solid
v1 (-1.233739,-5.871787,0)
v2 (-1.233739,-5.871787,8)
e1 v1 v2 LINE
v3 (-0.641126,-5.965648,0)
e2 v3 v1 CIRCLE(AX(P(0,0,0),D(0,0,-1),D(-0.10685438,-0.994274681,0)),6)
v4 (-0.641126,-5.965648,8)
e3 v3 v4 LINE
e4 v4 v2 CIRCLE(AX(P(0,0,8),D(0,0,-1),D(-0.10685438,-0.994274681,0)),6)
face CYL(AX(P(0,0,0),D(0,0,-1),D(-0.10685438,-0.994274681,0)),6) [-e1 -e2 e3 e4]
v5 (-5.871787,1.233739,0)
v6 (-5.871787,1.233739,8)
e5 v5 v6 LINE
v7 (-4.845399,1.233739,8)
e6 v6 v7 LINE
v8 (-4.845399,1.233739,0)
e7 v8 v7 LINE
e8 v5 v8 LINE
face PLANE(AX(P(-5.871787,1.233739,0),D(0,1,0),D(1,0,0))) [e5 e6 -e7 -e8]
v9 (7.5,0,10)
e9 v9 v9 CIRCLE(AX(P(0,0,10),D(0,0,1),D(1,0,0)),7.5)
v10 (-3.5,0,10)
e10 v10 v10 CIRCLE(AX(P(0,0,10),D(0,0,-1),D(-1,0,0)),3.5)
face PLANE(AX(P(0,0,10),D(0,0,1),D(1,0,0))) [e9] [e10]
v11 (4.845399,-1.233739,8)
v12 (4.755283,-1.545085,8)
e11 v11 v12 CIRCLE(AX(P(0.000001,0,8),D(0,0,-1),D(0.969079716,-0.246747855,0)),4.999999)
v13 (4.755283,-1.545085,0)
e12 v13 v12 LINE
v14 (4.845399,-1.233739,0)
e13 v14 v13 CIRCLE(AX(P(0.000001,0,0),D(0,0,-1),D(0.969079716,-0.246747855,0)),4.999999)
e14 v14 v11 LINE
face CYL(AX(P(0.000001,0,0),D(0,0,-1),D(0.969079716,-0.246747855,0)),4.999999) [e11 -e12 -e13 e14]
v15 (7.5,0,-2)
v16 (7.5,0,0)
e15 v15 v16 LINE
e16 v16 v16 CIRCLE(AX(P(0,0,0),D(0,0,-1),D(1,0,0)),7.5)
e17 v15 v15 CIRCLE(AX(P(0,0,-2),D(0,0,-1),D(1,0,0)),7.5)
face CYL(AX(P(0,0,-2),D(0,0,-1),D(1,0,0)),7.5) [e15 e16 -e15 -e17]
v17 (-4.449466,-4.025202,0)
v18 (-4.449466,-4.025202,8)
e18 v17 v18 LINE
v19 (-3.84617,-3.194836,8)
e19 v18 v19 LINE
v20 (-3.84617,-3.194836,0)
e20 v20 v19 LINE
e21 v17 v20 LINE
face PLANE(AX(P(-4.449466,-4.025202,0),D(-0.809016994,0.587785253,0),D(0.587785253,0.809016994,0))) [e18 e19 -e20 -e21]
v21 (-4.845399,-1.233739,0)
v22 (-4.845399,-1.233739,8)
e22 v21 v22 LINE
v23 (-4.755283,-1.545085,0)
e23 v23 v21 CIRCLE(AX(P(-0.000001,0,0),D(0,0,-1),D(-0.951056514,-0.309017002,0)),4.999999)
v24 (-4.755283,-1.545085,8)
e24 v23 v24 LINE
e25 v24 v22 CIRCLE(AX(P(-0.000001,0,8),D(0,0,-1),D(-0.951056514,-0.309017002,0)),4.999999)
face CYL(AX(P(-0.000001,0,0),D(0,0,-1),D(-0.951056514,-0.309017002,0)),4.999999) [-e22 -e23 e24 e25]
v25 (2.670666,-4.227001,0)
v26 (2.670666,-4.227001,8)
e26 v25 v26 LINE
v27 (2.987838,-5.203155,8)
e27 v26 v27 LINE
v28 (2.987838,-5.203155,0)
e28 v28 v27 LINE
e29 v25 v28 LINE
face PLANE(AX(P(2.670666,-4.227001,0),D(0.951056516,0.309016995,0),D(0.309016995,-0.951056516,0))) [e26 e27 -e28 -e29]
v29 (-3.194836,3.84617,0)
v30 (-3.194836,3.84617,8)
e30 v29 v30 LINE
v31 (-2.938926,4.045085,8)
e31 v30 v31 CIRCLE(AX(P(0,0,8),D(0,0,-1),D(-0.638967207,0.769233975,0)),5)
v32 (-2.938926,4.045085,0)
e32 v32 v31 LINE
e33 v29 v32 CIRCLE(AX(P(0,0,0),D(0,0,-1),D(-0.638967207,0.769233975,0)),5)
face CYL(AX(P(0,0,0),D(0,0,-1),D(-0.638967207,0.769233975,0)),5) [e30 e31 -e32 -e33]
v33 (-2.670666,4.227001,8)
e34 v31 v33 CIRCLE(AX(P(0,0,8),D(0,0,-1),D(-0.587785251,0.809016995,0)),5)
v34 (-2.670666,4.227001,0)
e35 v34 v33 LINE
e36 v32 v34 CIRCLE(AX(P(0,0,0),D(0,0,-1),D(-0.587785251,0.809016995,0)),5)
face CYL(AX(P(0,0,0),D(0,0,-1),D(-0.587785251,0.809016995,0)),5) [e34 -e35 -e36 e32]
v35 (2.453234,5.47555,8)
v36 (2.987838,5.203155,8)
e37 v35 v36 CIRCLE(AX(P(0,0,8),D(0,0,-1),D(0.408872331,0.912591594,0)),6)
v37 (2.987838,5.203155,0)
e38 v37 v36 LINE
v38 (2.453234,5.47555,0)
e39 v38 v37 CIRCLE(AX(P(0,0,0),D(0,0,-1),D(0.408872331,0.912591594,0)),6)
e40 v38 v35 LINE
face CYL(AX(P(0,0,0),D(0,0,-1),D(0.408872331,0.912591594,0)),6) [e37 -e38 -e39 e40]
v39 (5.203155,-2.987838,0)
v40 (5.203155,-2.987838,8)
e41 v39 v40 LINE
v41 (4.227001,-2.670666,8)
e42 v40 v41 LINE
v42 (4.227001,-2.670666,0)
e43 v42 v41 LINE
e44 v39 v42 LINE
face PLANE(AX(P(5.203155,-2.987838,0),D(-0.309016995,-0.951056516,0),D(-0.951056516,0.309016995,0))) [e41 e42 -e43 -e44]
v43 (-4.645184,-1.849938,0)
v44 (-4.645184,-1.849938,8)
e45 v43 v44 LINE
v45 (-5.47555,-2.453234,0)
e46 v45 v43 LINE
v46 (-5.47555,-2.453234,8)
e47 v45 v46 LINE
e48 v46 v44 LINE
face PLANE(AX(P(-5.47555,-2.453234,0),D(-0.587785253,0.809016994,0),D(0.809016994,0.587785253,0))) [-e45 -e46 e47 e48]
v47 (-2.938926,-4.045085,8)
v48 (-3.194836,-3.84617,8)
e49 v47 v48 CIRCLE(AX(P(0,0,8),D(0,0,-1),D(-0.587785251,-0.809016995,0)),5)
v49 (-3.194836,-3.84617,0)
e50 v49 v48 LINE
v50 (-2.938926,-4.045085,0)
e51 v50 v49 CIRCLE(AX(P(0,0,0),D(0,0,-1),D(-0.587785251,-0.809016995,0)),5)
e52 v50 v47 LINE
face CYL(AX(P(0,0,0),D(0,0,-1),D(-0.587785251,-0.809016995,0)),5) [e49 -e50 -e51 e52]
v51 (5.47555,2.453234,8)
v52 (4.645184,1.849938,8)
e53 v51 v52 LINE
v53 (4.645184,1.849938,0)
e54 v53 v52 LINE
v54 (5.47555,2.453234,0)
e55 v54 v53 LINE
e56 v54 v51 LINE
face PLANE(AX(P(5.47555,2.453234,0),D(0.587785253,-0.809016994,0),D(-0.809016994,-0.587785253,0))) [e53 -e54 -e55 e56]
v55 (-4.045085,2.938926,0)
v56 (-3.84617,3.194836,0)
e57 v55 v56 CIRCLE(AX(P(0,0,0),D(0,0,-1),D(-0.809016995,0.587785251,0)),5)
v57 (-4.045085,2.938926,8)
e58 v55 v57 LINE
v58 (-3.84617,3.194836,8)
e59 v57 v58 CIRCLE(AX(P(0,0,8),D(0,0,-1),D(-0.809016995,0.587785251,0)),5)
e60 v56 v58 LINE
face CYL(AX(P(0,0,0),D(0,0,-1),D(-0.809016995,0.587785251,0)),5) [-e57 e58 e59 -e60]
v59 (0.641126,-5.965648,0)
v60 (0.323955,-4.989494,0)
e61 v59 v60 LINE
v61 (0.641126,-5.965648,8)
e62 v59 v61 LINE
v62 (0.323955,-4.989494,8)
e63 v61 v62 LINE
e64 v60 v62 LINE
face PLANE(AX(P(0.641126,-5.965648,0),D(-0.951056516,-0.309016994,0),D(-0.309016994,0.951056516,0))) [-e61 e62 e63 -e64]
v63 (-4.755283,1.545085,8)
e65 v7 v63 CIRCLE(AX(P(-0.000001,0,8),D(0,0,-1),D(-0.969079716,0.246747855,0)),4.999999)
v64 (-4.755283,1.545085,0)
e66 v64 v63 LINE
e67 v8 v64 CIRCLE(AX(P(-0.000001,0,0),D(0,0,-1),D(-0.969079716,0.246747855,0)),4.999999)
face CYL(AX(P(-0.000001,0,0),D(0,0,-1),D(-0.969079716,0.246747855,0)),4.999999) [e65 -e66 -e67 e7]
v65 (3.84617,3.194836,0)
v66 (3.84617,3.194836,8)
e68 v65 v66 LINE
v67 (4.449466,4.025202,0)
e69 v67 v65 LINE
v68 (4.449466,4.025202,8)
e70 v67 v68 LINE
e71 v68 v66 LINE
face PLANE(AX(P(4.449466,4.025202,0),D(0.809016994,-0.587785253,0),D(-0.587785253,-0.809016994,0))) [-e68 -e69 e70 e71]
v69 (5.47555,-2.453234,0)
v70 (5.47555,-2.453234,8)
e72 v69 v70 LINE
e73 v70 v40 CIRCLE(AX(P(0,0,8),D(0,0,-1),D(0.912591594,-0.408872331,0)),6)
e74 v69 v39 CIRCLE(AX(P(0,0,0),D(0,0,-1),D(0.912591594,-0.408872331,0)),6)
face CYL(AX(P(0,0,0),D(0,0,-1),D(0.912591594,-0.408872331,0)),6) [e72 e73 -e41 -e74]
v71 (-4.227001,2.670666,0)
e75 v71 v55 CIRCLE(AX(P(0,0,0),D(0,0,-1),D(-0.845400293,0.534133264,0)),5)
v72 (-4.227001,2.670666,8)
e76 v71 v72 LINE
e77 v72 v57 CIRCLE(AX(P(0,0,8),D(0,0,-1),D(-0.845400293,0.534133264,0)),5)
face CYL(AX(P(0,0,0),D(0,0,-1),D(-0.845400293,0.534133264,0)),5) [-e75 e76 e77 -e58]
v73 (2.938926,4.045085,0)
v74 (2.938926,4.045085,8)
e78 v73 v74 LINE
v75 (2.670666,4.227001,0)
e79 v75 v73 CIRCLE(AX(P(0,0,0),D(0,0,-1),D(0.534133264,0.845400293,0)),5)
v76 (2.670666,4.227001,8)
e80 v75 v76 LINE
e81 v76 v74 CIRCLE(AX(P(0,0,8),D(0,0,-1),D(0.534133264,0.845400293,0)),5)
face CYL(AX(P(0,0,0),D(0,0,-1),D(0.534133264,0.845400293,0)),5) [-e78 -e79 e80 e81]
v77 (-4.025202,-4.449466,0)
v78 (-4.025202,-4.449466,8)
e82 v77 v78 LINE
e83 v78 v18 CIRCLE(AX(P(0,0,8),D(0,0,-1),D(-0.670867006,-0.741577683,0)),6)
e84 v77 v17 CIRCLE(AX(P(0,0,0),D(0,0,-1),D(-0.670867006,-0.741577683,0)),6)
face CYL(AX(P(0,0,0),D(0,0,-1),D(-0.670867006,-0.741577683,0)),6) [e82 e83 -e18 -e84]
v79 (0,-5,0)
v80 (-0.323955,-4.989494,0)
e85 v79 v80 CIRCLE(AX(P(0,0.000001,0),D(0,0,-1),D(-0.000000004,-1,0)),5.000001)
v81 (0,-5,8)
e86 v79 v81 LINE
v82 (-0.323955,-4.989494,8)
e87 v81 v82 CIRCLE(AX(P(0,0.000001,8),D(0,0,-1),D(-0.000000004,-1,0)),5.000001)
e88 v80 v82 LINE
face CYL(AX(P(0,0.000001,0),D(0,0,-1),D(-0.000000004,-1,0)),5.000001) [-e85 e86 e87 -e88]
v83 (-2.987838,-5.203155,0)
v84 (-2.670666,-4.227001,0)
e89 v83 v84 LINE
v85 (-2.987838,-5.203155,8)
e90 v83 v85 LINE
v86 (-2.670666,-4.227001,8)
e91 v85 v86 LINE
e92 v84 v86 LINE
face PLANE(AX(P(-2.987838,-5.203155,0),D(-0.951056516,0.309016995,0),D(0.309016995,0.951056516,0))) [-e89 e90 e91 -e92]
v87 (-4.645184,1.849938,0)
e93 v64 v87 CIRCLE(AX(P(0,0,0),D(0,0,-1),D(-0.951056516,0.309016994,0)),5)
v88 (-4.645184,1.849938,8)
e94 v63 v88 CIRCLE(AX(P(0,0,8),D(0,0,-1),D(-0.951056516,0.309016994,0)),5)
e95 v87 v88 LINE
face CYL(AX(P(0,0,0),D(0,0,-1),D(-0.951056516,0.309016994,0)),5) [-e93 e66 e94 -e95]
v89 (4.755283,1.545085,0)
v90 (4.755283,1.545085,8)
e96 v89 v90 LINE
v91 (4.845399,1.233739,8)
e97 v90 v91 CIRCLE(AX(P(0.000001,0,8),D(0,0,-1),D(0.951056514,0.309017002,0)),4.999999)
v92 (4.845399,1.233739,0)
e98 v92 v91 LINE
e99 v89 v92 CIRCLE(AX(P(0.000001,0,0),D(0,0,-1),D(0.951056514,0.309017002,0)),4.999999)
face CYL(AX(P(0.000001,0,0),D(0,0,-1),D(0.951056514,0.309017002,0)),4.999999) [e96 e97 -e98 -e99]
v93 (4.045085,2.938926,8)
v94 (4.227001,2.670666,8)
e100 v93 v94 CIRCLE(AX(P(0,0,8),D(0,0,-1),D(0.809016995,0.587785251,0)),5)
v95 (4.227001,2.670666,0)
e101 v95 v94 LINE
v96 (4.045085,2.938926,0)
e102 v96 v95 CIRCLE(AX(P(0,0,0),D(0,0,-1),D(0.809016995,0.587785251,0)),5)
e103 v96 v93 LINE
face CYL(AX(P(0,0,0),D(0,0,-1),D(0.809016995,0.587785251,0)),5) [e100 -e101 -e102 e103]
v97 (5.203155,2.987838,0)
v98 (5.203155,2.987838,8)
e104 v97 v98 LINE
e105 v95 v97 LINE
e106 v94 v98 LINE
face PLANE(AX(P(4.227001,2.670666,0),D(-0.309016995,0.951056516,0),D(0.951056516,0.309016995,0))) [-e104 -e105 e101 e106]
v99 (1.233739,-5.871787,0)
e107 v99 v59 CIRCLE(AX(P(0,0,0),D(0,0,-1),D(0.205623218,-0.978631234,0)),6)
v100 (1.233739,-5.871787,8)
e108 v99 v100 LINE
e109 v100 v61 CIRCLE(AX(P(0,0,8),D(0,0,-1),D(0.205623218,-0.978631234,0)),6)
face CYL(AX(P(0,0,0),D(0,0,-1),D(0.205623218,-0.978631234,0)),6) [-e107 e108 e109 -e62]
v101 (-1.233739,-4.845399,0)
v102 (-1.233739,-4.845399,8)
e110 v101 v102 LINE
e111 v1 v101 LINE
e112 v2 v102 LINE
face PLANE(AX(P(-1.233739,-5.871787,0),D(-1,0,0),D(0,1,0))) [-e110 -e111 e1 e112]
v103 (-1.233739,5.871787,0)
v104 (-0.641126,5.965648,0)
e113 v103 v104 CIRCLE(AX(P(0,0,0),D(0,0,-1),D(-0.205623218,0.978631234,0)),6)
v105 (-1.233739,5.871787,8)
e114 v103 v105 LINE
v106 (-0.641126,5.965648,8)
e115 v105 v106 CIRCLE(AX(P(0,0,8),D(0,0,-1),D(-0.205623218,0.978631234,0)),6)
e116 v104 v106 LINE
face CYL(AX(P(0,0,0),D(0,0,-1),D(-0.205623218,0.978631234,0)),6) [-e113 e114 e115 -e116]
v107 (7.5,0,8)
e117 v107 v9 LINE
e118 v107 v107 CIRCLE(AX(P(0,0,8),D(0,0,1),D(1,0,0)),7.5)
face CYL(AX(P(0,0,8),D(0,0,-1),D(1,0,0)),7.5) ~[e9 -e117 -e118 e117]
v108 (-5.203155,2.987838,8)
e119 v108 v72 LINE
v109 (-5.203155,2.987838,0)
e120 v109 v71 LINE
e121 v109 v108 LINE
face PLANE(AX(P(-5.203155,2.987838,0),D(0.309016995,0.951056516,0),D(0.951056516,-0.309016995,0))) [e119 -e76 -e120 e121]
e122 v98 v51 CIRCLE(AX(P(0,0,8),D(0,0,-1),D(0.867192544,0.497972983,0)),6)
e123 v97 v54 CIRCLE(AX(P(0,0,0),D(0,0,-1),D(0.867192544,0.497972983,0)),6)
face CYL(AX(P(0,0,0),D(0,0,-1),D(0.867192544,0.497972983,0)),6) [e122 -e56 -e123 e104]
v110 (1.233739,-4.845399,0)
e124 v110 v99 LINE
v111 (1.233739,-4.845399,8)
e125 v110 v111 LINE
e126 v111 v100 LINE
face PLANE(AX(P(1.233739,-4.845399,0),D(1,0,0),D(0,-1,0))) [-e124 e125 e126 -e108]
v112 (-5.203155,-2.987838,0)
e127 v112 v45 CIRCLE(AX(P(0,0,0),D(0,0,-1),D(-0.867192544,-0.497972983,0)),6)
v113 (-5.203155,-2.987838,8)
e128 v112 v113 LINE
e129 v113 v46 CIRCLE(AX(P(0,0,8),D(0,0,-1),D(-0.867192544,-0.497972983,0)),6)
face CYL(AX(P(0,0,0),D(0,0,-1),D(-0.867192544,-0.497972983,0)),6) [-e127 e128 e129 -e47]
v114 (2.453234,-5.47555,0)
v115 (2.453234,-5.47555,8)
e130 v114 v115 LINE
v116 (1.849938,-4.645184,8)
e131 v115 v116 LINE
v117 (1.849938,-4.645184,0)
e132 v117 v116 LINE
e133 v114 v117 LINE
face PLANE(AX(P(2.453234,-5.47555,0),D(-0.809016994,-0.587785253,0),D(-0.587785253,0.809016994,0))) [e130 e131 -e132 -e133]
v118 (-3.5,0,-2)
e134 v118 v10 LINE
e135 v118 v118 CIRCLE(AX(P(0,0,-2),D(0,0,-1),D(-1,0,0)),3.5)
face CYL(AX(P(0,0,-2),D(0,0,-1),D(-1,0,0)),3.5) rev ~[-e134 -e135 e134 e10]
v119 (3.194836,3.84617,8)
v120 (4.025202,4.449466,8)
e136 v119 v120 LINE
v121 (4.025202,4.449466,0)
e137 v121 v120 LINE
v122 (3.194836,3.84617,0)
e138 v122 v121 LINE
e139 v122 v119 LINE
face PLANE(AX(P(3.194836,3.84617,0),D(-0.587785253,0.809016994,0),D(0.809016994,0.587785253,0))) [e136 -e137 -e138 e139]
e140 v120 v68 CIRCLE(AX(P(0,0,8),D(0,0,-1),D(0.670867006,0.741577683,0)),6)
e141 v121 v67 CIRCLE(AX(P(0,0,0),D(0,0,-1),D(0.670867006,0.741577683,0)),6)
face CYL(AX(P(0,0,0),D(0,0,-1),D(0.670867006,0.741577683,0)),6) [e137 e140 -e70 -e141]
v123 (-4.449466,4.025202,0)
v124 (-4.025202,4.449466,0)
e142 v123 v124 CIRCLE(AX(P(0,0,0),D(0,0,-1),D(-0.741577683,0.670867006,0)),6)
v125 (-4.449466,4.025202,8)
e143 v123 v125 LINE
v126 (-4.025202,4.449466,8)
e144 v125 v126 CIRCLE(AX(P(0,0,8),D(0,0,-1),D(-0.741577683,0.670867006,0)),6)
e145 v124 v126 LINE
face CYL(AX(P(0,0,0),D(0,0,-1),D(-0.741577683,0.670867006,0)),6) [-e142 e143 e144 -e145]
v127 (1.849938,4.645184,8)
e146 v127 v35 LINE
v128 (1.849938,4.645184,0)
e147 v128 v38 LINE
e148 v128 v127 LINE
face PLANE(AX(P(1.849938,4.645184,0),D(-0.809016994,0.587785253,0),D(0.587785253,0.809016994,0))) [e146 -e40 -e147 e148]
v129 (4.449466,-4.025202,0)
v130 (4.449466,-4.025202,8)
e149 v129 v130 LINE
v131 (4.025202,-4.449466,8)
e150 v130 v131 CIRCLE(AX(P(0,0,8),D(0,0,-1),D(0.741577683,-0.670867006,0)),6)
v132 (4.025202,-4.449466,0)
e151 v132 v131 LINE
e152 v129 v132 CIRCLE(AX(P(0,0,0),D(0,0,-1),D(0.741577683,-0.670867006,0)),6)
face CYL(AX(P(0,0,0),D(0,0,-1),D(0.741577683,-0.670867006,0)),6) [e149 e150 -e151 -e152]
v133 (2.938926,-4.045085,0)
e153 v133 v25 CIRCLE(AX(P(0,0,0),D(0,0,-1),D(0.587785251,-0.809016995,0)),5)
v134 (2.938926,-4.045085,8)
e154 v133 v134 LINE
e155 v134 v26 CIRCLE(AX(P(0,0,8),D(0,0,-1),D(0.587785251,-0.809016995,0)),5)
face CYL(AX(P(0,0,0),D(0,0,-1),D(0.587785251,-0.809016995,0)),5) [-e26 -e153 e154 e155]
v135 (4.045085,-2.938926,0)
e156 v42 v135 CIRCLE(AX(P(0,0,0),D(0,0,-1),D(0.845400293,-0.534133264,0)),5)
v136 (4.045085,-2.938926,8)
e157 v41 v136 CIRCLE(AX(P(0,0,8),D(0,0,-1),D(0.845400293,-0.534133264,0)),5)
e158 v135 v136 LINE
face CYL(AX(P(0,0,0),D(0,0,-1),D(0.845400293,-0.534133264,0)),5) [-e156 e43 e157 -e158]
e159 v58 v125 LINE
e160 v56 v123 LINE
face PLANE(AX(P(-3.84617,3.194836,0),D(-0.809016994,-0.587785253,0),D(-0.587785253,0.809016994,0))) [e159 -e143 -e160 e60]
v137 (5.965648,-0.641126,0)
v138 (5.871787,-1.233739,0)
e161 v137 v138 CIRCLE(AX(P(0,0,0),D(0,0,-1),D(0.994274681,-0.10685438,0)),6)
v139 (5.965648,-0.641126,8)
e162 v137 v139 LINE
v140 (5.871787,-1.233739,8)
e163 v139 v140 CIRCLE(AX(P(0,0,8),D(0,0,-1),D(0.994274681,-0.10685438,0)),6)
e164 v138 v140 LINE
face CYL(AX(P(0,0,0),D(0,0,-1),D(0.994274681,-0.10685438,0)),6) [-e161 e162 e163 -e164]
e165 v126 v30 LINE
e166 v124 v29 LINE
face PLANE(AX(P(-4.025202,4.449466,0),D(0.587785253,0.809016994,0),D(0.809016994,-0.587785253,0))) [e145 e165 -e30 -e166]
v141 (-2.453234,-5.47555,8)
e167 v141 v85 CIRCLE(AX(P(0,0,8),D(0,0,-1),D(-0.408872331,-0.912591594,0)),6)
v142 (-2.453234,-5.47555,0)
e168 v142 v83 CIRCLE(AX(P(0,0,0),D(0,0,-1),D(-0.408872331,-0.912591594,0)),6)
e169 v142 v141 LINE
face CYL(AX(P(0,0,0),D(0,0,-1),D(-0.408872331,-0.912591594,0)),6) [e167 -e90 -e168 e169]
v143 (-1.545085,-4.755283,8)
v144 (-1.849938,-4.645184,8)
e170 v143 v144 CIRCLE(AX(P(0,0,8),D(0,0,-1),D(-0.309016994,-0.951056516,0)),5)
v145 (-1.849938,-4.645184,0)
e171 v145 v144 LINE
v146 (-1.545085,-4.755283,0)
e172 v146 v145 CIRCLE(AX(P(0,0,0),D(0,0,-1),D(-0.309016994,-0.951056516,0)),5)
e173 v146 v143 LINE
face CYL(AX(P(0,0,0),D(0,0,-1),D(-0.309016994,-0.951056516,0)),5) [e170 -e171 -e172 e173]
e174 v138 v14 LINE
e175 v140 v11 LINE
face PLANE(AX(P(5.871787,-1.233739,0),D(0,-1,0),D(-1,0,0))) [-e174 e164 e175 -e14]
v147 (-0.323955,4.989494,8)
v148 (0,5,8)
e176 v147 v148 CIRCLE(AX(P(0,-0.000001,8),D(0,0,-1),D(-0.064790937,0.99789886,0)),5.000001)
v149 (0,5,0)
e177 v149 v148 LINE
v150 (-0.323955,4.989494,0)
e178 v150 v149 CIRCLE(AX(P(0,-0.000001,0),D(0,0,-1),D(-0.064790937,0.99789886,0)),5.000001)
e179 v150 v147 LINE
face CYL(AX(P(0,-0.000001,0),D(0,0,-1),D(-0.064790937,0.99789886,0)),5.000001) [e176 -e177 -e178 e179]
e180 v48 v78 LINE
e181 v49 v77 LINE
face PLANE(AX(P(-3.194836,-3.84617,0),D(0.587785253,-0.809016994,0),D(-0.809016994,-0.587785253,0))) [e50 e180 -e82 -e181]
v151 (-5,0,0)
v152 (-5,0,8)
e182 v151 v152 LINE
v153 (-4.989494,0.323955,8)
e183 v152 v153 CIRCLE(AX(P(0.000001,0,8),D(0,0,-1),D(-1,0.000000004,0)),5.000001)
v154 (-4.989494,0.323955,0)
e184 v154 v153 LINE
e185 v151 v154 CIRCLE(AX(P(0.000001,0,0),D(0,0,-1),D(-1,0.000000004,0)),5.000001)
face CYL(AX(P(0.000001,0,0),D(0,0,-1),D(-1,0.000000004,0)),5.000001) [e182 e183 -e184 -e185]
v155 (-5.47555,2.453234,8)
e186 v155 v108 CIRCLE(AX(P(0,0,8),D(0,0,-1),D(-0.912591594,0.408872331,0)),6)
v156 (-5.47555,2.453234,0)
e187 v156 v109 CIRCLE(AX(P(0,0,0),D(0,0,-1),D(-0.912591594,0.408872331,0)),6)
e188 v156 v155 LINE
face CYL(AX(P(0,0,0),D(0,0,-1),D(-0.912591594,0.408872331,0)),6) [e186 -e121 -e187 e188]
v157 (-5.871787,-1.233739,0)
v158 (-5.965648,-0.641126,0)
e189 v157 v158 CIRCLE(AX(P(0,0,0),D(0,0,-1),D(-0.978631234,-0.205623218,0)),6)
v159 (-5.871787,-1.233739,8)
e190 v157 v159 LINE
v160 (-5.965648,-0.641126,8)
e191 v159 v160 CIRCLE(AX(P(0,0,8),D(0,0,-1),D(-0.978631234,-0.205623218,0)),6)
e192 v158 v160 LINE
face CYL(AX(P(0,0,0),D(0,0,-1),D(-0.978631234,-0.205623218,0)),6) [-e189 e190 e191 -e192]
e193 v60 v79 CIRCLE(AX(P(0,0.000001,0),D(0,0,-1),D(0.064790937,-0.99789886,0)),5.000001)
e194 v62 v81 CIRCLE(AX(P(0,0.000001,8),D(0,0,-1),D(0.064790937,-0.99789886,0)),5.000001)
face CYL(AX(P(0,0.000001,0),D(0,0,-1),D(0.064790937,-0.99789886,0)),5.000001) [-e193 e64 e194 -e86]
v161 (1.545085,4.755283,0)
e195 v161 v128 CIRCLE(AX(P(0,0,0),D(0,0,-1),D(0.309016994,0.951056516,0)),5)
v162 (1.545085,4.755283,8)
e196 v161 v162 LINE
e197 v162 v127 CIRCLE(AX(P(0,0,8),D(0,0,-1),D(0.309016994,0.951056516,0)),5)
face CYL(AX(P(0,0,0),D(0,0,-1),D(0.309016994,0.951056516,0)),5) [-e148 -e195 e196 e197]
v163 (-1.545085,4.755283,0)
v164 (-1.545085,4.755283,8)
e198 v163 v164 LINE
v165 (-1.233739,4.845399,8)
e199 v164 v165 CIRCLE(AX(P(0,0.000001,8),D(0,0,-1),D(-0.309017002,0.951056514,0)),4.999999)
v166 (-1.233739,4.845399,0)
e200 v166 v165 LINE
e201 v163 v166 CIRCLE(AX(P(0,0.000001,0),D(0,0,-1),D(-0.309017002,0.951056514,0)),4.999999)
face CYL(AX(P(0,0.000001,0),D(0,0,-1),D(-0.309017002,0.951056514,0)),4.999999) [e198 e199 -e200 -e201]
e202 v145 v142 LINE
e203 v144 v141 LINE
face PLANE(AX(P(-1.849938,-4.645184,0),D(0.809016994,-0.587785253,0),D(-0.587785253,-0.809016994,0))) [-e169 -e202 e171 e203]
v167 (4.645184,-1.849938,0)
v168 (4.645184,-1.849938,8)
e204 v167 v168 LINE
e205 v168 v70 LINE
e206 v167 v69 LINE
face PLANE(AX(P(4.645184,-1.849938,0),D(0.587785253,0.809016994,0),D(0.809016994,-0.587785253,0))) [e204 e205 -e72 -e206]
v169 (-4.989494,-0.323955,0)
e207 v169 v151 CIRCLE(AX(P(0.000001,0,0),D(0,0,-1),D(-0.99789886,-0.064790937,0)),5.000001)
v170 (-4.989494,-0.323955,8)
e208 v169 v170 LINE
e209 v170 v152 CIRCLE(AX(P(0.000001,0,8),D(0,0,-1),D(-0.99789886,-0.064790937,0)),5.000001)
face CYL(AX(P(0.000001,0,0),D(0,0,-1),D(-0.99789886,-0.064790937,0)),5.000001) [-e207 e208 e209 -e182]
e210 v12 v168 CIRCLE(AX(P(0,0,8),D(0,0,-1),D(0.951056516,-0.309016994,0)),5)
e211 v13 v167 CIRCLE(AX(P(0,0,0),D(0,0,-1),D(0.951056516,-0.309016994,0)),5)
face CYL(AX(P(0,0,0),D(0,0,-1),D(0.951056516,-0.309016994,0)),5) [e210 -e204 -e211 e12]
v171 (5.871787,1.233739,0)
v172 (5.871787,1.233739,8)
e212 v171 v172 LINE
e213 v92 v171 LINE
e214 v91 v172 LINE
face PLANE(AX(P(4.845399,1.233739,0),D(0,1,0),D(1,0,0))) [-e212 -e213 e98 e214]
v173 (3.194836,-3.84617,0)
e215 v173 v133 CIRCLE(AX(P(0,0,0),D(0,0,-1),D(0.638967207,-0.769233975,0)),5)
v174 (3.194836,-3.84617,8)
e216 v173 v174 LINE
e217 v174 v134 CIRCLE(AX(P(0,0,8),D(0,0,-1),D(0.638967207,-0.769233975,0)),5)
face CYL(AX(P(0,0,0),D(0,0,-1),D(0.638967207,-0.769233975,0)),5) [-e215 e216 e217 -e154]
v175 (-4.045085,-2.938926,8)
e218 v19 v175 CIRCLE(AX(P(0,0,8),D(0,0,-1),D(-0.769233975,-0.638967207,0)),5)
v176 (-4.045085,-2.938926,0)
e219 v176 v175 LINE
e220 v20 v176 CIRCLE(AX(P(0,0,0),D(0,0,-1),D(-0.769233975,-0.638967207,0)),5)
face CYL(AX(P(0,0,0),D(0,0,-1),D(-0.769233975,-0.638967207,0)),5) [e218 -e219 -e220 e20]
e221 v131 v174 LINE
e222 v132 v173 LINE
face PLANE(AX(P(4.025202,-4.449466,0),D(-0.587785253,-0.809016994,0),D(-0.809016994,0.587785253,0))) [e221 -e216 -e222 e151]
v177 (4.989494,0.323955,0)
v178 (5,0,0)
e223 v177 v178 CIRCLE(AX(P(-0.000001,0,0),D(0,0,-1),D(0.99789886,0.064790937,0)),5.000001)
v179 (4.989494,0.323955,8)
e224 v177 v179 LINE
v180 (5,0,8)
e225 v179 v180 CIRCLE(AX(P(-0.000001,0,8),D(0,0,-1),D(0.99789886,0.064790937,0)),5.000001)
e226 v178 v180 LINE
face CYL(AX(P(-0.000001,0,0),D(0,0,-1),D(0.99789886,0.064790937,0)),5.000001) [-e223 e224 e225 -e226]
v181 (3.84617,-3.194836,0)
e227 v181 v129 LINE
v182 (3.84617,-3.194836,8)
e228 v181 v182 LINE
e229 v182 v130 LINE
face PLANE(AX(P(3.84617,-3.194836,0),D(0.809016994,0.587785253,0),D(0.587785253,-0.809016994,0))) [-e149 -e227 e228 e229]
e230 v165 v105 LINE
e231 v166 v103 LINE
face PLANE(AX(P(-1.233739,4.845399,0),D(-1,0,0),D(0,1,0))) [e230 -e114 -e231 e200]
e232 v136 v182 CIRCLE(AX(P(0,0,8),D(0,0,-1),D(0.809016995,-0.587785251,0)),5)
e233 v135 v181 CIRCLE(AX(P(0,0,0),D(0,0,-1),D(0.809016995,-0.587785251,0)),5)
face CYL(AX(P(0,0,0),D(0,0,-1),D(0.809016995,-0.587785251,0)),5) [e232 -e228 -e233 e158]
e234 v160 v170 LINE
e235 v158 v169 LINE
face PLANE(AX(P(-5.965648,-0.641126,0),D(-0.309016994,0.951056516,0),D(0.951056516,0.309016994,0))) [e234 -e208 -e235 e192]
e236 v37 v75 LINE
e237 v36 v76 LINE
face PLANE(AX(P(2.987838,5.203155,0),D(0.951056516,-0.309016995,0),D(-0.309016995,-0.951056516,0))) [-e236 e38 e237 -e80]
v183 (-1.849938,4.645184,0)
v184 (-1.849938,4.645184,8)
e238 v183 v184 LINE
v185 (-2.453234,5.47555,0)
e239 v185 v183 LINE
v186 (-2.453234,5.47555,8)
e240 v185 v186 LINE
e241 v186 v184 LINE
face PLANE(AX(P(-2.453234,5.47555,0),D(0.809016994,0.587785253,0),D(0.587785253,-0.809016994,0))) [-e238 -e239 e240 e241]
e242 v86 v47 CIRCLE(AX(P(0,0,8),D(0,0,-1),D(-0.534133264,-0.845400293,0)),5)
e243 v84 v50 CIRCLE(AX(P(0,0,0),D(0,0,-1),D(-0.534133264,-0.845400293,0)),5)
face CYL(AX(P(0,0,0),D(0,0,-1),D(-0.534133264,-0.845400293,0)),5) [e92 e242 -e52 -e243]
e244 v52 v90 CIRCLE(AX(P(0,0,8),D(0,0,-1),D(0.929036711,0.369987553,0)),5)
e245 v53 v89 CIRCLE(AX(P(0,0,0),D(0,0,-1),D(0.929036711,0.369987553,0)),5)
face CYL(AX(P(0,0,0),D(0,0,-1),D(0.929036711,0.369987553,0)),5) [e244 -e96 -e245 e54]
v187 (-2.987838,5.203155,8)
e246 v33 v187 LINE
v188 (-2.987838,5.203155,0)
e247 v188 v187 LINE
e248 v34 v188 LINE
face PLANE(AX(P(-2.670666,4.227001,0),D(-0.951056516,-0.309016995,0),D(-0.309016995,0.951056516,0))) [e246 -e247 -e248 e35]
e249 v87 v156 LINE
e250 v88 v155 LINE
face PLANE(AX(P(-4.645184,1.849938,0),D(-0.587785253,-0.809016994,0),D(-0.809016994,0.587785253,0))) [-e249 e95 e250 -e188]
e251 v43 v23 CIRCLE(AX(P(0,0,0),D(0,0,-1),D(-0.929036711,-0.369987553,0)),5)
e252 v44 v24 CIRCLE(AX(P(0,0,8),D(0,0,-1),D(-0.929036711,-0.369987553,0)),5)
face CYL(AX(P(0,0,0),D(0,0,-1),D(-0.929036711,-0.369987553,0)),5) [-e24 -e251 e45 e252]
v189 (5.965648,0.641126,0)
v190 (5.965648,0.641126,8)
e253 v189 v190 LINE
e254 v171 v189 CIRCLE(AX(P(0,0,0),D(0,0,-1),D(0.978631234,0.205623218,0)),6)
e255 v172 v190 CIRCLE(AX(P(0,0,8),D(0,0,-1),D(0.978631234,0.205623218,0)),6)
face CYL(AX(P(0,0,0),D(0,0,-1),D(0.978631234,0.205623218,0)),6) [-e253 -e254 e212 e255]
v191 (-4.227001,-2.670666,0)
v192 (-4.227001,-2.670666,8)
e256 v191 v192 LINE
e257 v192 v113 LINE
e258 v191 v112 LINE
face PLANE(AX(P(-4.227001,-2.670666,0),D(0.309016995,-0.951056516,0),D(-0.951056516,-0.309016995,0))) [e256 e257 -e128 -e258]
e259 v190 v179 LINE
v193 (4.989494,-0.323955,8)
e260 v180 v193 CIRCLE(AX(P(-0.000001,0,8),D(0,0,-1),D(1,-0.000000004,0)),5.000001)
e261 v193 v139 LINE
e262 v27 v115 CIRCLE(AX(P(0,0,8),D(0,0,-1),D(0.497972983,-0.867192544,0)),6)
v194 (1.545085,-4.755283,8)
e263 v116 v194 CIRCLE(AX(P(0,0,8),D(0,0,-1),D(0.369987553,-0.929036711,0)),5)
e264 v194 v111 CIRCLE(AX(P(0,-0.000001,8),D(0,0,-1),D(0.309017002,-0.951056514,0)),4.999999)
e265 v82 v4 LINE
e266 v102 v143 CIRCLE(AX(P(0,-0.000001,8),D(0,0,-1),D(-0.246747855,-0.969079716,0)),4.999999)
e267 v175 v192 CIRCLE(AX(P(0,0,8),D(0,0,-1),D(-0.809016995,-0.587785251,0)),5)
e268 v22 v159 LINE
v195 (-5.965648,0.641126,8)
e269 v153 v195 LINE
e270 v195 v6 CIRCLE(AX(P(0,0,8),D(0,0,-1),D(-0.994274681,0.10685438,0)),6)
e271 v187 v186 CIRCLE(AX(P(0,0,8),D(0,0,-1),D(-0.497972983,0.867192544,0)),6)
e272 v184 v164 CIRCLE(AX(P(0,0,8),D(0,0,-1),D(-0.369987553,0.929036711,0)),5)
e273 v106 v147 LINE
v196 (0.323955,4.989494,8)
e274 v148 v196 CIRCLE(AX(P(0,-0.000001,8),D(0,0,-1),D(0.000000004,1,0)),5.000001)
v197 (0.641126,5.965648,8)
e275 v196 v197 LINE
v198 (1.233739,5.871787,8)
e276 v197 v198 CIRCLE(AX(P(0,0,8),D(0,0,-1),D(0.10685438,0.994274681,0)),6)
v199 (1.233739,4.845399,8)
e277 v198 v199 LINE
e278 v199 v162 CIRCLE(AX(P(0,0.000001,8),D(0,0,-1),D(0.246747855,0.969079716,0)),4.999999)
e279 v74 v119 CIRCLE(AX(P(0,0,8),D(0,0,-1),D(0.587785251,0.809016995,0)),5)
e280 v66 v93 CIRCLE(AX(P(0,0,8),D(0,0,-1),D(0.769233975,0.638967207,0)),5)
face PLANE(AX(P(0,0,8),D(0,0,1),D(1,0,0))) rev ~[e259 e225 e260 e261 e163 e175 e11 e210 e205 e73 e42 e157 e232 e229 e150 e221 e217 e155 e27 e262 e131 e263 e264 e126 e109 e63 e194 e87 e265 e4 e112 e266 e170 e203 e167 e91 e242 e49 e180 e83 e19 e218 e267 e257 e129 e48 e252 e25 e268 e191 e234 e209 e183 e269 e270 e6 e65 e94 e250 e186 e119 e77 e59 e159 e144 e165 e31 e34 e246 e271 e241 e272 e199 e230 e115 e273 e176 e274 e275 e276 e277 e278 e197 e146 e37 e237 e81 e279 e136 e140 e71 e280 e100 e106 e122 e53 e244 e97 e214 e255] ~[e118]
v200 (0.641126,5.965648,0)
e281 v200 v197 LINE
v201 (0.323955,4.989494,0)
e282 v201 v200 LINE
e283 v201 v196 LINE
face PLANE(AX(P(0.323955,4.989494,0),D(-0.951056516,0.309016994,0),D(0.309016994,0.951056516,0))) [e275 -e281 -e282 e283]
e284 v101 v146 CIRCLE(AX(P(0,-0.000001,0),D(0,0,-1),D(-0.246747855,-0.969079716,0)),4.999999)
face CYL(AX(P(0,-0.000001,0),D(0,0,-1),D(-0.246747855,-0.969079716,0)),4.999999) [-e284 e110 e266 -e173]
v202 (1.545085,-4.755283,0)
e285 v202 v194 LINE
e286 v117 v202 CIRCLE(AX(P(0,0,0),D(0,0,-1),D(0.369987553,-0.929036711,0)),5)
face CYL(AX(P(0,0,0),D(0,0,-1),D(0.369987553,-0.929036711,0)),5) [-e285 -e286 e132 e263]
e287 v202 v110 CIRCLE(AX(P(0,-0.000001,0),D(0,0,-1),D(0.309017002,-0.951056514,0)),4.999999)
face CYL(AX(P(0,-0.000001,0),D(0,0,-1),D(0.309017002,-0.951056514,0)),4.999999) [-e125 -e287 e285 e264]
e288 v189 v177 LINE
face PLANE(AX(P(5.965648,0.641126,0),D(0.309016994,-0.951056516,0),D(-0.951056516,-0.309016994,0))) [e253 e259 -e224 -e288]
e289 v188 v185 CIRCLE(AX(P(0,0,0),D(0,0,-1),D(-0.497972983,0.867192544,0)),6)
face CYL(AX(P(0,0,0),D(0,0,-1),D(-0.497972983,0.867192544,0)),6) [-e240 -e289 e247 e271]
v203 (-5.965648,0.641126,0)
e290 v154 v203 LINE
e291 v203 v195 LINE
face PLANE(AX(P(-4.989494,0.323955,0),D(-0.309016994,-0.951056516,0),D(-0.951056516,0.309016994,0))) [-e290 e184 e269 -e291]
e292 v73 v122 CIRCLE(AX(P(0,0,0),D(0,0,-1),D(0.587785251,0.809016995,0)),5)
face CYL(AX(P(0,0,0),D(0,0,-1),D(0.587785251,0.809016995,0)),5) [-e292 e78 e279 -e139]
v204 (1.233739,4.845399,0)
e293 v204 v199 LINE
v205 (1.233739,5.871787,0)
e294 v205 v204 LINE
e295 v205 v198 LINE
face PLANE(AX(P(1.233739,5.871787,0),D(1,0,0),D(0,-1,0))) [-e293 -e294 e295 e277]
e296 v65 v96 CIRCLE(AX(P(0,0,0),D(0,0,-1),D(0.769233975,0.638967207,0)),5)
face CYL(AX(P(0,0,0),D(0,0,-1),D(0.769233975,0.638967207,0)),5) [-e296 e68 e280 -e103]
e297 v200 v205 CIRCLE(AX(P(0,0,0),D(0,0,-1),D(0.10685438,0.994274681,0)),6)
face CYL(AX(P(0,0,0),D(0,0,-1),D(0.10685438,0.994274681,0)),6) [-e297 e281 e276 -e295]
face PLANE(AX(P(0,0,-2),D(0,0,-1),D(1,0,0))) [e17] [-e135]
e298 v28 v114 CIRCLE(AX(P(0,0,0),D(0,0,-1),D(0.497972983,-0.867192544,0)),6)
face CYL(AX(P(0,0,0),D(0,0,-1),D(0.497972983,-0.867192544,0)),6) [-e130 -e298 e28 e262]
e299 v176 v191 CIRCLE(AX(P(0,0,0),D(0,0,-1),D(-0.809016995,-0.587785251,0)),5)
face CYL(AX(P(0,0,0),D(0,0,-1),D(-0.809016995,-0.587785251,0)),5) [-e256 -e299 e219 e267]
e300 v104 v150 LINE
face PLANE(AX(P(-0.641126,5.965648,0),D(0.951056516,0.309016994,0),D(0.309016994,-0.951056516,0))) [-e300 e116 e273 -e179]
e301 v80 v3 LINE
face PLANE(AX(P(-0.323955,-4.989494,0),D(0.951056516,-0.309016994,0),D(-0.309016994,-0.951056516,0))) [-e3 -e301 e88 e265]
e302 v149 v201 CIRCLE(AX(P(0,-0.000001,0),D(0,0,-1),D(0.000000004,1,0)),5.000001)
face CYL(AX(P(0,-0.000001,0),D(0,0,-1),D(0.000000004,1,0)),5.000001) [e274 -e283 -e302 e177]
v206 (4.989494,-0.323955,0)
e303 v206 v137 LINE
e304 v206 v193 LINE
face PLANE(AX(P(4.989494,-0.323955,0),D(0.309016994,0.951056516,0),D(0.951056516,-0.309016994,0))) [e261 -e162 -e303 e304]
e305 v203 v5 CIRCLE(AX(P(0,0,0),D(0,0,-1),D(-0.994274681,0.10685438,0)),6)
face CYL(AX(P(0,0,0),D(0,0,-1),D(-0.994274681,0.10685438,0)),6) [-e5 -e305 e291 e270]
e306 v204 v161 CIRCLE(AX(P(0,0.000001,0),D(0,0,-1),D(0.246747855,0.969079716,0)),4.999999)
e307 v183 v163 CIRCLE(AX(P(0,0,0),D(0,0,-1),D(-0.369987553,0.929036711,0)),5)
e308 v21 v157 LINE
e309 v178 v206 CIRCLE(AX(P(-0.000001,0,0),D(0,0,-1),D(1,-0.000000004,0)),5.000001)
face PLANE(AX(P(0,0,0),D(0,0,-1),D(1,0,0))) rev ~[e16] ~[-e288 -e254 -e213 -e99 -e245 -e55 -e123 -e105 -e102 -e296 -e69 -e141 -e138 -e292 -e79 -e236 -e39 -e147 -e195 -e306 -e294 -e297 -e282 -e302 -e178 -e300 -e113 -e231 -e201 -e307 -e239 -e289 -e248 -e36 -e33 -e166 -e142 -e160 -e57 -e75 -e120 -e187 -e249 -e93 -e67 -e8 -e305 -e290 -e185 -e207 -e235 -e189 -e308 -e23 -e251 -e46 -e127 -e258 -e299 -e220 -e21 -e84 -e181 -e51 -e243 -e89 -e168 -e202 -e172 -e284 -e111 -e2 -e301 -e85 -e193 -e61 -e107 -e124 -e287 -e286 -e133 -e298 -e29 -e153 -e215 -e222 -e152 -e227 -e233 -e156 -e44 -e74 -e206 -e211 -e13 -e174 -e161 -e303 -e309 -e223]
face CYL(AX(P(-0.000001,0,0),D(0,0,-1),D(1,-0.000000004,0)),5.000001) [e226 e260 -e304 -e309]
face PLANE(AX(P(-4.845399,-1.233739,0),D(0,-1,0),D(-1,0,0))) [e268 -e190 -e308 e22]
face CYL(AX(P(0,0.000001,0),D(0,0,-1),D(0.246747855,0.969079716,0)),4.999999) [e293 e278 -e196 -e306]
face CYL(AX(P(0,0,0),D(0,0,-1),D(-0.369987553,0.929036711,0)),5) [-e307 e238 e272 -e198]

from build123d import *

# Parameters (mm, degrees)
BOSS_EXTRUDE1_DEPTH = 8
SKETCH3_R           = 7.5
BOSS_EXTRUDE2_DEPTH = 2
BOSS_EXTRUDE3_START = 2
SKETCH4_R           = 7.5
BOSS_EXTRUDE3_DEPTH = 2
SKETCH5_R           = 3.5
CUT_EXTRUDE1_DEPTH  = 17.015617378


with BuildPart() as part:
    # Sketch2 → Boss-Extrude1 (new body)
    with BuildSketch(Plane.XY):
        with BuildLine():
            Line((0.323954703, 4.989494298), (0.641126295, 5.965648085))
            ThreePointArc((0.641126295, 5.965648085), (0.93860679, 5.926130044), (1.2337393, 5.871787406))
            Line((1.2337393, 5.871787406), (1.2337393, 4.845398574))
            ThreePointArc((1.2337393, 4.845398574), (1.390142549, 4.802864114), (1.545084972, 4.755282581))
            ThreePointArc((1.545084972, 4.755282581), (1.698403748, 4.702703978), (1.849937763, 4.645183556))
            Line((1.849937763, 4.645183556), (2.453233982, 5.475549564))
            ThreePointArc((2.453233982, 5.475549564), (2.723942998, 5.346039145), (2.987837896, 5.203155264))
            Line((2.987837896, 5.203155264), (2.670666304, 4.227001478))
            ThreePointArc((2.670666304, 4.227001478), (2.806270762, 4.13821754), (2.938926261, 4.045084972))
            ThreePointArc((2.938926261, 4.045084972), (3.068493401, 3.947701641), (3.194836025, 3.846169883))
            Line((3.194836025, 3.846169883), (4.025202033, 4.449466102))
            ThreePointArc((4.025202033, 4.449466102), (4.242640687, 4.242640687), (4.449466102, 4.025202033))
            Line((4.449466102, 4.025202033), (3.846169883, 3.194836025))
            ThreePointArc((3.846169883, 3.194836025), (3.947701641, 3.068493401), (4.045084972, 2.938926261))
            ThreePointArc((4.045084972, 2.938926261), (4.13821754, 2.806270762), (4.227001478, 2.670666304))
            Line((4.227001478, 2.670666304), (5.203155264, 2.987837896))
            ThreePointArc((5.203155264, 2.987837896), (5.346039145, 2.723942998), (5.475549564, 2.453233982))
            Line((5.475549564, 2.453233982), (4.645183556, 1.849937763))
            ThreePointArc((4.645183556, 1.849937763), (4.702703978, 1.698403748), (4.755282581, 1.545084972))
            ThreePointArc((4.755282581, 1.545084972), (4.802864114, 1.390142549), (4.845398574, 1.2337393))
            Line((4.845398574, 1.2337393), (5.871787406, 1.2337393))
            ThreePointArc((5.871787406, 1.2337393), (5.926130044, 0.93860679), (5.965648085, 0.641126295))
            Line((5.965648085, 0.641126295), (4.989494298, 0.323954703))
            ThreePointArc((4.989494298, 0.323954703), (4.997372884, 0.162062503), (5, 0))
            ThreePointArc((5, 0), (4.997372884, -0.162062503), (4.989494298, -0.323954703))
            Line((4.989494298, -0.323954703), (5.965648085, -0.641126295))
            ThreePointArc((5.965648085, -0.641126295), (5.926130044, -0.93860679), (5.871787406, -1.2337393))
            Line((5.871787406, -1.2337393), (4.845398574, -1.2337393))
            ThreePointArc((4.845398574, -1.2337393), (4.802864114, -1.390142549), (4.755282581, -1.545084972))
            ThreePointArc((4.755282581, -1.545084972), (4.702703978, -1.698403748), (4.645183556, -1.849937763))
            Line((4.645183556, -1.849937763), (5.475549564, -2.453233982))
            ThreePointArc((5.475549564, -2.453233982), (5.346039145, -2.723942998), (5.203155264, -2.987837896))
            Line((5.203155264, -2.987837896), (4.227001478, -2.670666304))
            ThreePointArc((4.227001478, -2.670666304), (4.13821754, -2.806270762), (4.045084972, -2.938926261))
            ThreePointArc((4.045084972, -2.938926261), (3.947701641, -3.068493401), (3.846169883, -3.194836025))
            Line((3.846169883, -3.194836025), (4.449466102, -4.025202033))
            ThreePointArc((4.449466102, -4.025202033), (4.242640687, -4.242640687), (4.025202033, -4.449466102))
            Line((4.025202033, -4.449466102), (3.194836025, -3.846169883))
            ThreePointArc((3.194836025, -3.846169883), (3.068493401, -3.947701641), (2.938926261, -4.045084972))
            ThreePointArc((2.938926261, -4.045084972), (2.806270762, -4.13821754), (2.670666304, -4.227001478))
            Line((2.670666304, -4.227001478), (2.987837896, -5.203155264))
            ThreePointArc((2.987837896, -5.203155264), (2.723942998, -5.346039145), (2.453233982, -5.475549564))
            Line((2.453233982, -5.475549564), (1.849937763, -4.645183556))
            ThreePointArc((1.849937763, -4.645183556), (1.698403748, -4.702703978), (1.545084972, -4.755282581))
            ThreePointArc((1.545084972, -4.755282581), (1.390142549, -4.802864114), (1.2337393, -4.845398574))
            Line((1.2337393, -4.845398574), (1.2337393, -5.871787406))
            ThreePointArc((1.2337393, -5.871787406), (0.93860679, -5.926130044), (0.641126295, -5.965648085))
            Line((0.641126295, -5.965648085), (0.323954703, -4.989494298))
            ThreePointArc((0.323954703, -4.989494298), (0.162062503, -4.997372884), (0, -5))
            ThreePointArc((0, -5), (-0.162062503, -4.997372884), (-0.323954703, -4.989494298))
            Line((-0.323954703, -4.989494298), (-0.641126295, -5.965648085))
            ThreePointArc((-0.641126295, -5.965648085), (-0.93860679, -5.926130044), (-1.2337393, -5.871787406))
            Line((-1.2337393, -5.871787406), (-1.2337393, -4.845398574))
            ThreePointArc((-1.2337393, -4.845398574), (-1.390142549, -4.802864114), (-1.545084972, -4.755282581))
            ThreePointArc((-1.545084972, -4.755282581), (-1.698403748, -4.702703978), (-1.849937763, -4.645183556))
            Line((-1.849937763, -4.645183556), (-2.453233982, -5.475549564))
            ThreePointArc((-2.453233982, -5.475549564), (-2.723942998, -5.346039145), (-2.987837896, -5.203155264))
            Line((-2.987837896, -5.203155264), (-2.670666304, -4.227001478))
            ThreePointArc((-2.670666304, -4.227001478), (-2.806270762, -4.13821754), (-2.938926261, -4.045084972))
            ThreePointArc((-2.938926261, -4.045084972), (-3.068493401, -3.947701641), (-3.194836025, -3.846169883))
            Line((-3.194836025, -3.846169883), (-4.025202033, -4.449466102))
            ThreePointArc((-4.025202033, -4.449466102), (-4.242640687, -4.242640687), (-4.449466102, -4.025202033))
            Line((-4.449466102, -4.025202033), (-3.846169883, -3.194836025))
            ThreePointArc((-3.846169883, -3.194836025), (-3.947701641, -3.068493401), (-4.045084972, -2.938926261))
            ThreePointArc((-4.045084972, -2.938926261), (-4.13821754, -2.806270762), (-4.227001478, -2.670666304))
            Line((-4.227001478, -2.670666304), (-5.203155264, -2.987837896))
            ThreePointArc((-5.203155264, -2.987837896), (-5.346039145, -2.723942998), (-5.475549564, -2.453233982))
            Line((-5.475549564, -2.453233982), (-4.645183556, -1.849937763))
            ThreePointArc((-4.645183556, -1.849937763), (-4.702703978, -1.698403748), (-4.755282581, -1.545084972))
            ThreePointArc((-4.755282581, -1.545084972), (-4.802864114, -1.390142549), (-4.845398574, -1.2337393))
            Line((-4.845398574, -1.2337393), (-5.871787406, -1.2337393))
            ThreePointArc((-5.871787406, -1.2337393), (-5.926130044, -0.93860679), (-5.965648085, -0.641126295))
            Line((-5.965648085, -0.641126295), (-4.989494298, -0.323954703))
            ThreePointArc((-4.989494298, -0.323954703), (-4.997372884, -0.162062503), (-5, 0))
            ThreePointArc((-5, 0), (-4.997372884, 0.162062503), (-4.989494298, 0.323954703))
            Line((-4.989494298, 0.323954703), (-5.965648085, 0.641126295))
            ThreePointArc((-5.965648085, 0.641126295), (-5.926130044, 0.93860679), (-5.871787406, 1.2337393))
            Line((-5.871787406, 1.2337393), (-4.845398574, 1.2337393))
            ThreePointArc((-4.845398574, 1.2337393), (-4.802864114, 1.390142549), (-4.755282581, 1.545084972))
            ThreePointArc((-4.755282581, 1.545084972), (-4.702703978, 1.698403748), (-4.645183556, 1.849937763))
            Line((-4.645183556, 1.849937763), (-5.475549564, 2.453233982))
            ThreePointArc((-5.475549564, 2.453233982), (-5.346039145, 2.723942998), (-5.203155264, 2.987837896))
            Line((-5.203155264, 2.987837896), (-4.227001478, 2.670666304))
            ThreePointArc((-4.227001478, 2.670666304), (-4.13821754, 2.806270762), (-4.045084972, 2.938926261))
            ThreePointArc((-4.045084972, 2.938926261), (-3.947701641, 3.068493401), (-3.846169883, 3.194836025))
            Line((-3.846169883, 3.194836025), (-4.449466102, 4.025202033))
            ThreePointArc((-4.449466102, 4.025202033), (-4.242640687, 4.242640687), (-4.025202033, 4.449466102))
            Line((-4.025202033, 4.449466102), (-3.194836025, 3.846169883))
            ThreePointArc((-3.194836025, 3.846169883), (-3.068493401, 3.947701641), (-2.938926261, 4.045084972))
            ThreePointArc((-2.938926261, 4.045084972), (-2.806270762, 4.13821754), (-2.670666304, 4.227001478))
            Line((-2.670666304, 4.227001478), (-2.987837896, 5.203155264))
            ThreePointArc((-2.987837896, 5.203155264), (-2.723942998, 5.346039145), (-2.453233982, 5.475549564))
            Line((-2.453233982, 5.475549564), (-1.849937763, 4.645183556))
            ThreePointArc((-1.849937763, 4.645183556), (-1.698403748, 4.702703978), (-1.545084972, 4.755282581))
            ThreePointArc((-1.545084972, 4.755282581), (-1.390142549, 4.802864114), (-1.2337393, 4.845398574))
            Line((-1.2337393, 4.845398574), (-1.2337393, 5.871787406))
            ThreePointArc((-1.2337393, 5.871787406), (-0.93860679, 5.926130044), (-0.641126295, 5.965648085))
            Line((-0.641126295, 5.965648085), (-0.323954703, 4.989494298))
            ThreePointArc((-0.323954703, 4.989494298), (-0.162062503, 4.997372884), (0, 5))
            ThreePointArc((0, 5), (0.162062503, 4.997372884), (0.323954703, 4.989494298))
        make_face()
    extrude(amount=BOSS_EXTRUDE1_DEPTH)

    # Sketch3 → Boss-Extrude2 (add)
    with BuildSketch(Plane.XY.offset(8)):
        Circle(SKETCH3_R)
    extrude(amount=BOSS_EXTRUDE2_DEPTH)

    # Sketch4 → Boss-Extrude3 (add)
    with BuildSketch(Plane(origin=(0, 0, 0), x_dir=(-1, 0, 0), z_dir=(0, 0, -1)).offset(BOSS_EXTRUDE3_START)):
        with Locations(Location((0, 0, 0), (0, 0, 180))):
            Circle(SKETCH4_R)
    extrude(amount=-BOSS_EXTRUDE3_DEPTH)

    # Sketch5 → Cut-Extrude1 (cut, through all)
    with BuildSketch(Plane(origin=(0, 0, -2), x_dir=(-1, 0, 0), z_dir=(0, 0, -1))):
        Circle(SKETCH5_R)
    extrude(amount=-CUT_EXTRUDE1_DEPTH, mode=Mode.SUBTRACT)


solid = part.part
